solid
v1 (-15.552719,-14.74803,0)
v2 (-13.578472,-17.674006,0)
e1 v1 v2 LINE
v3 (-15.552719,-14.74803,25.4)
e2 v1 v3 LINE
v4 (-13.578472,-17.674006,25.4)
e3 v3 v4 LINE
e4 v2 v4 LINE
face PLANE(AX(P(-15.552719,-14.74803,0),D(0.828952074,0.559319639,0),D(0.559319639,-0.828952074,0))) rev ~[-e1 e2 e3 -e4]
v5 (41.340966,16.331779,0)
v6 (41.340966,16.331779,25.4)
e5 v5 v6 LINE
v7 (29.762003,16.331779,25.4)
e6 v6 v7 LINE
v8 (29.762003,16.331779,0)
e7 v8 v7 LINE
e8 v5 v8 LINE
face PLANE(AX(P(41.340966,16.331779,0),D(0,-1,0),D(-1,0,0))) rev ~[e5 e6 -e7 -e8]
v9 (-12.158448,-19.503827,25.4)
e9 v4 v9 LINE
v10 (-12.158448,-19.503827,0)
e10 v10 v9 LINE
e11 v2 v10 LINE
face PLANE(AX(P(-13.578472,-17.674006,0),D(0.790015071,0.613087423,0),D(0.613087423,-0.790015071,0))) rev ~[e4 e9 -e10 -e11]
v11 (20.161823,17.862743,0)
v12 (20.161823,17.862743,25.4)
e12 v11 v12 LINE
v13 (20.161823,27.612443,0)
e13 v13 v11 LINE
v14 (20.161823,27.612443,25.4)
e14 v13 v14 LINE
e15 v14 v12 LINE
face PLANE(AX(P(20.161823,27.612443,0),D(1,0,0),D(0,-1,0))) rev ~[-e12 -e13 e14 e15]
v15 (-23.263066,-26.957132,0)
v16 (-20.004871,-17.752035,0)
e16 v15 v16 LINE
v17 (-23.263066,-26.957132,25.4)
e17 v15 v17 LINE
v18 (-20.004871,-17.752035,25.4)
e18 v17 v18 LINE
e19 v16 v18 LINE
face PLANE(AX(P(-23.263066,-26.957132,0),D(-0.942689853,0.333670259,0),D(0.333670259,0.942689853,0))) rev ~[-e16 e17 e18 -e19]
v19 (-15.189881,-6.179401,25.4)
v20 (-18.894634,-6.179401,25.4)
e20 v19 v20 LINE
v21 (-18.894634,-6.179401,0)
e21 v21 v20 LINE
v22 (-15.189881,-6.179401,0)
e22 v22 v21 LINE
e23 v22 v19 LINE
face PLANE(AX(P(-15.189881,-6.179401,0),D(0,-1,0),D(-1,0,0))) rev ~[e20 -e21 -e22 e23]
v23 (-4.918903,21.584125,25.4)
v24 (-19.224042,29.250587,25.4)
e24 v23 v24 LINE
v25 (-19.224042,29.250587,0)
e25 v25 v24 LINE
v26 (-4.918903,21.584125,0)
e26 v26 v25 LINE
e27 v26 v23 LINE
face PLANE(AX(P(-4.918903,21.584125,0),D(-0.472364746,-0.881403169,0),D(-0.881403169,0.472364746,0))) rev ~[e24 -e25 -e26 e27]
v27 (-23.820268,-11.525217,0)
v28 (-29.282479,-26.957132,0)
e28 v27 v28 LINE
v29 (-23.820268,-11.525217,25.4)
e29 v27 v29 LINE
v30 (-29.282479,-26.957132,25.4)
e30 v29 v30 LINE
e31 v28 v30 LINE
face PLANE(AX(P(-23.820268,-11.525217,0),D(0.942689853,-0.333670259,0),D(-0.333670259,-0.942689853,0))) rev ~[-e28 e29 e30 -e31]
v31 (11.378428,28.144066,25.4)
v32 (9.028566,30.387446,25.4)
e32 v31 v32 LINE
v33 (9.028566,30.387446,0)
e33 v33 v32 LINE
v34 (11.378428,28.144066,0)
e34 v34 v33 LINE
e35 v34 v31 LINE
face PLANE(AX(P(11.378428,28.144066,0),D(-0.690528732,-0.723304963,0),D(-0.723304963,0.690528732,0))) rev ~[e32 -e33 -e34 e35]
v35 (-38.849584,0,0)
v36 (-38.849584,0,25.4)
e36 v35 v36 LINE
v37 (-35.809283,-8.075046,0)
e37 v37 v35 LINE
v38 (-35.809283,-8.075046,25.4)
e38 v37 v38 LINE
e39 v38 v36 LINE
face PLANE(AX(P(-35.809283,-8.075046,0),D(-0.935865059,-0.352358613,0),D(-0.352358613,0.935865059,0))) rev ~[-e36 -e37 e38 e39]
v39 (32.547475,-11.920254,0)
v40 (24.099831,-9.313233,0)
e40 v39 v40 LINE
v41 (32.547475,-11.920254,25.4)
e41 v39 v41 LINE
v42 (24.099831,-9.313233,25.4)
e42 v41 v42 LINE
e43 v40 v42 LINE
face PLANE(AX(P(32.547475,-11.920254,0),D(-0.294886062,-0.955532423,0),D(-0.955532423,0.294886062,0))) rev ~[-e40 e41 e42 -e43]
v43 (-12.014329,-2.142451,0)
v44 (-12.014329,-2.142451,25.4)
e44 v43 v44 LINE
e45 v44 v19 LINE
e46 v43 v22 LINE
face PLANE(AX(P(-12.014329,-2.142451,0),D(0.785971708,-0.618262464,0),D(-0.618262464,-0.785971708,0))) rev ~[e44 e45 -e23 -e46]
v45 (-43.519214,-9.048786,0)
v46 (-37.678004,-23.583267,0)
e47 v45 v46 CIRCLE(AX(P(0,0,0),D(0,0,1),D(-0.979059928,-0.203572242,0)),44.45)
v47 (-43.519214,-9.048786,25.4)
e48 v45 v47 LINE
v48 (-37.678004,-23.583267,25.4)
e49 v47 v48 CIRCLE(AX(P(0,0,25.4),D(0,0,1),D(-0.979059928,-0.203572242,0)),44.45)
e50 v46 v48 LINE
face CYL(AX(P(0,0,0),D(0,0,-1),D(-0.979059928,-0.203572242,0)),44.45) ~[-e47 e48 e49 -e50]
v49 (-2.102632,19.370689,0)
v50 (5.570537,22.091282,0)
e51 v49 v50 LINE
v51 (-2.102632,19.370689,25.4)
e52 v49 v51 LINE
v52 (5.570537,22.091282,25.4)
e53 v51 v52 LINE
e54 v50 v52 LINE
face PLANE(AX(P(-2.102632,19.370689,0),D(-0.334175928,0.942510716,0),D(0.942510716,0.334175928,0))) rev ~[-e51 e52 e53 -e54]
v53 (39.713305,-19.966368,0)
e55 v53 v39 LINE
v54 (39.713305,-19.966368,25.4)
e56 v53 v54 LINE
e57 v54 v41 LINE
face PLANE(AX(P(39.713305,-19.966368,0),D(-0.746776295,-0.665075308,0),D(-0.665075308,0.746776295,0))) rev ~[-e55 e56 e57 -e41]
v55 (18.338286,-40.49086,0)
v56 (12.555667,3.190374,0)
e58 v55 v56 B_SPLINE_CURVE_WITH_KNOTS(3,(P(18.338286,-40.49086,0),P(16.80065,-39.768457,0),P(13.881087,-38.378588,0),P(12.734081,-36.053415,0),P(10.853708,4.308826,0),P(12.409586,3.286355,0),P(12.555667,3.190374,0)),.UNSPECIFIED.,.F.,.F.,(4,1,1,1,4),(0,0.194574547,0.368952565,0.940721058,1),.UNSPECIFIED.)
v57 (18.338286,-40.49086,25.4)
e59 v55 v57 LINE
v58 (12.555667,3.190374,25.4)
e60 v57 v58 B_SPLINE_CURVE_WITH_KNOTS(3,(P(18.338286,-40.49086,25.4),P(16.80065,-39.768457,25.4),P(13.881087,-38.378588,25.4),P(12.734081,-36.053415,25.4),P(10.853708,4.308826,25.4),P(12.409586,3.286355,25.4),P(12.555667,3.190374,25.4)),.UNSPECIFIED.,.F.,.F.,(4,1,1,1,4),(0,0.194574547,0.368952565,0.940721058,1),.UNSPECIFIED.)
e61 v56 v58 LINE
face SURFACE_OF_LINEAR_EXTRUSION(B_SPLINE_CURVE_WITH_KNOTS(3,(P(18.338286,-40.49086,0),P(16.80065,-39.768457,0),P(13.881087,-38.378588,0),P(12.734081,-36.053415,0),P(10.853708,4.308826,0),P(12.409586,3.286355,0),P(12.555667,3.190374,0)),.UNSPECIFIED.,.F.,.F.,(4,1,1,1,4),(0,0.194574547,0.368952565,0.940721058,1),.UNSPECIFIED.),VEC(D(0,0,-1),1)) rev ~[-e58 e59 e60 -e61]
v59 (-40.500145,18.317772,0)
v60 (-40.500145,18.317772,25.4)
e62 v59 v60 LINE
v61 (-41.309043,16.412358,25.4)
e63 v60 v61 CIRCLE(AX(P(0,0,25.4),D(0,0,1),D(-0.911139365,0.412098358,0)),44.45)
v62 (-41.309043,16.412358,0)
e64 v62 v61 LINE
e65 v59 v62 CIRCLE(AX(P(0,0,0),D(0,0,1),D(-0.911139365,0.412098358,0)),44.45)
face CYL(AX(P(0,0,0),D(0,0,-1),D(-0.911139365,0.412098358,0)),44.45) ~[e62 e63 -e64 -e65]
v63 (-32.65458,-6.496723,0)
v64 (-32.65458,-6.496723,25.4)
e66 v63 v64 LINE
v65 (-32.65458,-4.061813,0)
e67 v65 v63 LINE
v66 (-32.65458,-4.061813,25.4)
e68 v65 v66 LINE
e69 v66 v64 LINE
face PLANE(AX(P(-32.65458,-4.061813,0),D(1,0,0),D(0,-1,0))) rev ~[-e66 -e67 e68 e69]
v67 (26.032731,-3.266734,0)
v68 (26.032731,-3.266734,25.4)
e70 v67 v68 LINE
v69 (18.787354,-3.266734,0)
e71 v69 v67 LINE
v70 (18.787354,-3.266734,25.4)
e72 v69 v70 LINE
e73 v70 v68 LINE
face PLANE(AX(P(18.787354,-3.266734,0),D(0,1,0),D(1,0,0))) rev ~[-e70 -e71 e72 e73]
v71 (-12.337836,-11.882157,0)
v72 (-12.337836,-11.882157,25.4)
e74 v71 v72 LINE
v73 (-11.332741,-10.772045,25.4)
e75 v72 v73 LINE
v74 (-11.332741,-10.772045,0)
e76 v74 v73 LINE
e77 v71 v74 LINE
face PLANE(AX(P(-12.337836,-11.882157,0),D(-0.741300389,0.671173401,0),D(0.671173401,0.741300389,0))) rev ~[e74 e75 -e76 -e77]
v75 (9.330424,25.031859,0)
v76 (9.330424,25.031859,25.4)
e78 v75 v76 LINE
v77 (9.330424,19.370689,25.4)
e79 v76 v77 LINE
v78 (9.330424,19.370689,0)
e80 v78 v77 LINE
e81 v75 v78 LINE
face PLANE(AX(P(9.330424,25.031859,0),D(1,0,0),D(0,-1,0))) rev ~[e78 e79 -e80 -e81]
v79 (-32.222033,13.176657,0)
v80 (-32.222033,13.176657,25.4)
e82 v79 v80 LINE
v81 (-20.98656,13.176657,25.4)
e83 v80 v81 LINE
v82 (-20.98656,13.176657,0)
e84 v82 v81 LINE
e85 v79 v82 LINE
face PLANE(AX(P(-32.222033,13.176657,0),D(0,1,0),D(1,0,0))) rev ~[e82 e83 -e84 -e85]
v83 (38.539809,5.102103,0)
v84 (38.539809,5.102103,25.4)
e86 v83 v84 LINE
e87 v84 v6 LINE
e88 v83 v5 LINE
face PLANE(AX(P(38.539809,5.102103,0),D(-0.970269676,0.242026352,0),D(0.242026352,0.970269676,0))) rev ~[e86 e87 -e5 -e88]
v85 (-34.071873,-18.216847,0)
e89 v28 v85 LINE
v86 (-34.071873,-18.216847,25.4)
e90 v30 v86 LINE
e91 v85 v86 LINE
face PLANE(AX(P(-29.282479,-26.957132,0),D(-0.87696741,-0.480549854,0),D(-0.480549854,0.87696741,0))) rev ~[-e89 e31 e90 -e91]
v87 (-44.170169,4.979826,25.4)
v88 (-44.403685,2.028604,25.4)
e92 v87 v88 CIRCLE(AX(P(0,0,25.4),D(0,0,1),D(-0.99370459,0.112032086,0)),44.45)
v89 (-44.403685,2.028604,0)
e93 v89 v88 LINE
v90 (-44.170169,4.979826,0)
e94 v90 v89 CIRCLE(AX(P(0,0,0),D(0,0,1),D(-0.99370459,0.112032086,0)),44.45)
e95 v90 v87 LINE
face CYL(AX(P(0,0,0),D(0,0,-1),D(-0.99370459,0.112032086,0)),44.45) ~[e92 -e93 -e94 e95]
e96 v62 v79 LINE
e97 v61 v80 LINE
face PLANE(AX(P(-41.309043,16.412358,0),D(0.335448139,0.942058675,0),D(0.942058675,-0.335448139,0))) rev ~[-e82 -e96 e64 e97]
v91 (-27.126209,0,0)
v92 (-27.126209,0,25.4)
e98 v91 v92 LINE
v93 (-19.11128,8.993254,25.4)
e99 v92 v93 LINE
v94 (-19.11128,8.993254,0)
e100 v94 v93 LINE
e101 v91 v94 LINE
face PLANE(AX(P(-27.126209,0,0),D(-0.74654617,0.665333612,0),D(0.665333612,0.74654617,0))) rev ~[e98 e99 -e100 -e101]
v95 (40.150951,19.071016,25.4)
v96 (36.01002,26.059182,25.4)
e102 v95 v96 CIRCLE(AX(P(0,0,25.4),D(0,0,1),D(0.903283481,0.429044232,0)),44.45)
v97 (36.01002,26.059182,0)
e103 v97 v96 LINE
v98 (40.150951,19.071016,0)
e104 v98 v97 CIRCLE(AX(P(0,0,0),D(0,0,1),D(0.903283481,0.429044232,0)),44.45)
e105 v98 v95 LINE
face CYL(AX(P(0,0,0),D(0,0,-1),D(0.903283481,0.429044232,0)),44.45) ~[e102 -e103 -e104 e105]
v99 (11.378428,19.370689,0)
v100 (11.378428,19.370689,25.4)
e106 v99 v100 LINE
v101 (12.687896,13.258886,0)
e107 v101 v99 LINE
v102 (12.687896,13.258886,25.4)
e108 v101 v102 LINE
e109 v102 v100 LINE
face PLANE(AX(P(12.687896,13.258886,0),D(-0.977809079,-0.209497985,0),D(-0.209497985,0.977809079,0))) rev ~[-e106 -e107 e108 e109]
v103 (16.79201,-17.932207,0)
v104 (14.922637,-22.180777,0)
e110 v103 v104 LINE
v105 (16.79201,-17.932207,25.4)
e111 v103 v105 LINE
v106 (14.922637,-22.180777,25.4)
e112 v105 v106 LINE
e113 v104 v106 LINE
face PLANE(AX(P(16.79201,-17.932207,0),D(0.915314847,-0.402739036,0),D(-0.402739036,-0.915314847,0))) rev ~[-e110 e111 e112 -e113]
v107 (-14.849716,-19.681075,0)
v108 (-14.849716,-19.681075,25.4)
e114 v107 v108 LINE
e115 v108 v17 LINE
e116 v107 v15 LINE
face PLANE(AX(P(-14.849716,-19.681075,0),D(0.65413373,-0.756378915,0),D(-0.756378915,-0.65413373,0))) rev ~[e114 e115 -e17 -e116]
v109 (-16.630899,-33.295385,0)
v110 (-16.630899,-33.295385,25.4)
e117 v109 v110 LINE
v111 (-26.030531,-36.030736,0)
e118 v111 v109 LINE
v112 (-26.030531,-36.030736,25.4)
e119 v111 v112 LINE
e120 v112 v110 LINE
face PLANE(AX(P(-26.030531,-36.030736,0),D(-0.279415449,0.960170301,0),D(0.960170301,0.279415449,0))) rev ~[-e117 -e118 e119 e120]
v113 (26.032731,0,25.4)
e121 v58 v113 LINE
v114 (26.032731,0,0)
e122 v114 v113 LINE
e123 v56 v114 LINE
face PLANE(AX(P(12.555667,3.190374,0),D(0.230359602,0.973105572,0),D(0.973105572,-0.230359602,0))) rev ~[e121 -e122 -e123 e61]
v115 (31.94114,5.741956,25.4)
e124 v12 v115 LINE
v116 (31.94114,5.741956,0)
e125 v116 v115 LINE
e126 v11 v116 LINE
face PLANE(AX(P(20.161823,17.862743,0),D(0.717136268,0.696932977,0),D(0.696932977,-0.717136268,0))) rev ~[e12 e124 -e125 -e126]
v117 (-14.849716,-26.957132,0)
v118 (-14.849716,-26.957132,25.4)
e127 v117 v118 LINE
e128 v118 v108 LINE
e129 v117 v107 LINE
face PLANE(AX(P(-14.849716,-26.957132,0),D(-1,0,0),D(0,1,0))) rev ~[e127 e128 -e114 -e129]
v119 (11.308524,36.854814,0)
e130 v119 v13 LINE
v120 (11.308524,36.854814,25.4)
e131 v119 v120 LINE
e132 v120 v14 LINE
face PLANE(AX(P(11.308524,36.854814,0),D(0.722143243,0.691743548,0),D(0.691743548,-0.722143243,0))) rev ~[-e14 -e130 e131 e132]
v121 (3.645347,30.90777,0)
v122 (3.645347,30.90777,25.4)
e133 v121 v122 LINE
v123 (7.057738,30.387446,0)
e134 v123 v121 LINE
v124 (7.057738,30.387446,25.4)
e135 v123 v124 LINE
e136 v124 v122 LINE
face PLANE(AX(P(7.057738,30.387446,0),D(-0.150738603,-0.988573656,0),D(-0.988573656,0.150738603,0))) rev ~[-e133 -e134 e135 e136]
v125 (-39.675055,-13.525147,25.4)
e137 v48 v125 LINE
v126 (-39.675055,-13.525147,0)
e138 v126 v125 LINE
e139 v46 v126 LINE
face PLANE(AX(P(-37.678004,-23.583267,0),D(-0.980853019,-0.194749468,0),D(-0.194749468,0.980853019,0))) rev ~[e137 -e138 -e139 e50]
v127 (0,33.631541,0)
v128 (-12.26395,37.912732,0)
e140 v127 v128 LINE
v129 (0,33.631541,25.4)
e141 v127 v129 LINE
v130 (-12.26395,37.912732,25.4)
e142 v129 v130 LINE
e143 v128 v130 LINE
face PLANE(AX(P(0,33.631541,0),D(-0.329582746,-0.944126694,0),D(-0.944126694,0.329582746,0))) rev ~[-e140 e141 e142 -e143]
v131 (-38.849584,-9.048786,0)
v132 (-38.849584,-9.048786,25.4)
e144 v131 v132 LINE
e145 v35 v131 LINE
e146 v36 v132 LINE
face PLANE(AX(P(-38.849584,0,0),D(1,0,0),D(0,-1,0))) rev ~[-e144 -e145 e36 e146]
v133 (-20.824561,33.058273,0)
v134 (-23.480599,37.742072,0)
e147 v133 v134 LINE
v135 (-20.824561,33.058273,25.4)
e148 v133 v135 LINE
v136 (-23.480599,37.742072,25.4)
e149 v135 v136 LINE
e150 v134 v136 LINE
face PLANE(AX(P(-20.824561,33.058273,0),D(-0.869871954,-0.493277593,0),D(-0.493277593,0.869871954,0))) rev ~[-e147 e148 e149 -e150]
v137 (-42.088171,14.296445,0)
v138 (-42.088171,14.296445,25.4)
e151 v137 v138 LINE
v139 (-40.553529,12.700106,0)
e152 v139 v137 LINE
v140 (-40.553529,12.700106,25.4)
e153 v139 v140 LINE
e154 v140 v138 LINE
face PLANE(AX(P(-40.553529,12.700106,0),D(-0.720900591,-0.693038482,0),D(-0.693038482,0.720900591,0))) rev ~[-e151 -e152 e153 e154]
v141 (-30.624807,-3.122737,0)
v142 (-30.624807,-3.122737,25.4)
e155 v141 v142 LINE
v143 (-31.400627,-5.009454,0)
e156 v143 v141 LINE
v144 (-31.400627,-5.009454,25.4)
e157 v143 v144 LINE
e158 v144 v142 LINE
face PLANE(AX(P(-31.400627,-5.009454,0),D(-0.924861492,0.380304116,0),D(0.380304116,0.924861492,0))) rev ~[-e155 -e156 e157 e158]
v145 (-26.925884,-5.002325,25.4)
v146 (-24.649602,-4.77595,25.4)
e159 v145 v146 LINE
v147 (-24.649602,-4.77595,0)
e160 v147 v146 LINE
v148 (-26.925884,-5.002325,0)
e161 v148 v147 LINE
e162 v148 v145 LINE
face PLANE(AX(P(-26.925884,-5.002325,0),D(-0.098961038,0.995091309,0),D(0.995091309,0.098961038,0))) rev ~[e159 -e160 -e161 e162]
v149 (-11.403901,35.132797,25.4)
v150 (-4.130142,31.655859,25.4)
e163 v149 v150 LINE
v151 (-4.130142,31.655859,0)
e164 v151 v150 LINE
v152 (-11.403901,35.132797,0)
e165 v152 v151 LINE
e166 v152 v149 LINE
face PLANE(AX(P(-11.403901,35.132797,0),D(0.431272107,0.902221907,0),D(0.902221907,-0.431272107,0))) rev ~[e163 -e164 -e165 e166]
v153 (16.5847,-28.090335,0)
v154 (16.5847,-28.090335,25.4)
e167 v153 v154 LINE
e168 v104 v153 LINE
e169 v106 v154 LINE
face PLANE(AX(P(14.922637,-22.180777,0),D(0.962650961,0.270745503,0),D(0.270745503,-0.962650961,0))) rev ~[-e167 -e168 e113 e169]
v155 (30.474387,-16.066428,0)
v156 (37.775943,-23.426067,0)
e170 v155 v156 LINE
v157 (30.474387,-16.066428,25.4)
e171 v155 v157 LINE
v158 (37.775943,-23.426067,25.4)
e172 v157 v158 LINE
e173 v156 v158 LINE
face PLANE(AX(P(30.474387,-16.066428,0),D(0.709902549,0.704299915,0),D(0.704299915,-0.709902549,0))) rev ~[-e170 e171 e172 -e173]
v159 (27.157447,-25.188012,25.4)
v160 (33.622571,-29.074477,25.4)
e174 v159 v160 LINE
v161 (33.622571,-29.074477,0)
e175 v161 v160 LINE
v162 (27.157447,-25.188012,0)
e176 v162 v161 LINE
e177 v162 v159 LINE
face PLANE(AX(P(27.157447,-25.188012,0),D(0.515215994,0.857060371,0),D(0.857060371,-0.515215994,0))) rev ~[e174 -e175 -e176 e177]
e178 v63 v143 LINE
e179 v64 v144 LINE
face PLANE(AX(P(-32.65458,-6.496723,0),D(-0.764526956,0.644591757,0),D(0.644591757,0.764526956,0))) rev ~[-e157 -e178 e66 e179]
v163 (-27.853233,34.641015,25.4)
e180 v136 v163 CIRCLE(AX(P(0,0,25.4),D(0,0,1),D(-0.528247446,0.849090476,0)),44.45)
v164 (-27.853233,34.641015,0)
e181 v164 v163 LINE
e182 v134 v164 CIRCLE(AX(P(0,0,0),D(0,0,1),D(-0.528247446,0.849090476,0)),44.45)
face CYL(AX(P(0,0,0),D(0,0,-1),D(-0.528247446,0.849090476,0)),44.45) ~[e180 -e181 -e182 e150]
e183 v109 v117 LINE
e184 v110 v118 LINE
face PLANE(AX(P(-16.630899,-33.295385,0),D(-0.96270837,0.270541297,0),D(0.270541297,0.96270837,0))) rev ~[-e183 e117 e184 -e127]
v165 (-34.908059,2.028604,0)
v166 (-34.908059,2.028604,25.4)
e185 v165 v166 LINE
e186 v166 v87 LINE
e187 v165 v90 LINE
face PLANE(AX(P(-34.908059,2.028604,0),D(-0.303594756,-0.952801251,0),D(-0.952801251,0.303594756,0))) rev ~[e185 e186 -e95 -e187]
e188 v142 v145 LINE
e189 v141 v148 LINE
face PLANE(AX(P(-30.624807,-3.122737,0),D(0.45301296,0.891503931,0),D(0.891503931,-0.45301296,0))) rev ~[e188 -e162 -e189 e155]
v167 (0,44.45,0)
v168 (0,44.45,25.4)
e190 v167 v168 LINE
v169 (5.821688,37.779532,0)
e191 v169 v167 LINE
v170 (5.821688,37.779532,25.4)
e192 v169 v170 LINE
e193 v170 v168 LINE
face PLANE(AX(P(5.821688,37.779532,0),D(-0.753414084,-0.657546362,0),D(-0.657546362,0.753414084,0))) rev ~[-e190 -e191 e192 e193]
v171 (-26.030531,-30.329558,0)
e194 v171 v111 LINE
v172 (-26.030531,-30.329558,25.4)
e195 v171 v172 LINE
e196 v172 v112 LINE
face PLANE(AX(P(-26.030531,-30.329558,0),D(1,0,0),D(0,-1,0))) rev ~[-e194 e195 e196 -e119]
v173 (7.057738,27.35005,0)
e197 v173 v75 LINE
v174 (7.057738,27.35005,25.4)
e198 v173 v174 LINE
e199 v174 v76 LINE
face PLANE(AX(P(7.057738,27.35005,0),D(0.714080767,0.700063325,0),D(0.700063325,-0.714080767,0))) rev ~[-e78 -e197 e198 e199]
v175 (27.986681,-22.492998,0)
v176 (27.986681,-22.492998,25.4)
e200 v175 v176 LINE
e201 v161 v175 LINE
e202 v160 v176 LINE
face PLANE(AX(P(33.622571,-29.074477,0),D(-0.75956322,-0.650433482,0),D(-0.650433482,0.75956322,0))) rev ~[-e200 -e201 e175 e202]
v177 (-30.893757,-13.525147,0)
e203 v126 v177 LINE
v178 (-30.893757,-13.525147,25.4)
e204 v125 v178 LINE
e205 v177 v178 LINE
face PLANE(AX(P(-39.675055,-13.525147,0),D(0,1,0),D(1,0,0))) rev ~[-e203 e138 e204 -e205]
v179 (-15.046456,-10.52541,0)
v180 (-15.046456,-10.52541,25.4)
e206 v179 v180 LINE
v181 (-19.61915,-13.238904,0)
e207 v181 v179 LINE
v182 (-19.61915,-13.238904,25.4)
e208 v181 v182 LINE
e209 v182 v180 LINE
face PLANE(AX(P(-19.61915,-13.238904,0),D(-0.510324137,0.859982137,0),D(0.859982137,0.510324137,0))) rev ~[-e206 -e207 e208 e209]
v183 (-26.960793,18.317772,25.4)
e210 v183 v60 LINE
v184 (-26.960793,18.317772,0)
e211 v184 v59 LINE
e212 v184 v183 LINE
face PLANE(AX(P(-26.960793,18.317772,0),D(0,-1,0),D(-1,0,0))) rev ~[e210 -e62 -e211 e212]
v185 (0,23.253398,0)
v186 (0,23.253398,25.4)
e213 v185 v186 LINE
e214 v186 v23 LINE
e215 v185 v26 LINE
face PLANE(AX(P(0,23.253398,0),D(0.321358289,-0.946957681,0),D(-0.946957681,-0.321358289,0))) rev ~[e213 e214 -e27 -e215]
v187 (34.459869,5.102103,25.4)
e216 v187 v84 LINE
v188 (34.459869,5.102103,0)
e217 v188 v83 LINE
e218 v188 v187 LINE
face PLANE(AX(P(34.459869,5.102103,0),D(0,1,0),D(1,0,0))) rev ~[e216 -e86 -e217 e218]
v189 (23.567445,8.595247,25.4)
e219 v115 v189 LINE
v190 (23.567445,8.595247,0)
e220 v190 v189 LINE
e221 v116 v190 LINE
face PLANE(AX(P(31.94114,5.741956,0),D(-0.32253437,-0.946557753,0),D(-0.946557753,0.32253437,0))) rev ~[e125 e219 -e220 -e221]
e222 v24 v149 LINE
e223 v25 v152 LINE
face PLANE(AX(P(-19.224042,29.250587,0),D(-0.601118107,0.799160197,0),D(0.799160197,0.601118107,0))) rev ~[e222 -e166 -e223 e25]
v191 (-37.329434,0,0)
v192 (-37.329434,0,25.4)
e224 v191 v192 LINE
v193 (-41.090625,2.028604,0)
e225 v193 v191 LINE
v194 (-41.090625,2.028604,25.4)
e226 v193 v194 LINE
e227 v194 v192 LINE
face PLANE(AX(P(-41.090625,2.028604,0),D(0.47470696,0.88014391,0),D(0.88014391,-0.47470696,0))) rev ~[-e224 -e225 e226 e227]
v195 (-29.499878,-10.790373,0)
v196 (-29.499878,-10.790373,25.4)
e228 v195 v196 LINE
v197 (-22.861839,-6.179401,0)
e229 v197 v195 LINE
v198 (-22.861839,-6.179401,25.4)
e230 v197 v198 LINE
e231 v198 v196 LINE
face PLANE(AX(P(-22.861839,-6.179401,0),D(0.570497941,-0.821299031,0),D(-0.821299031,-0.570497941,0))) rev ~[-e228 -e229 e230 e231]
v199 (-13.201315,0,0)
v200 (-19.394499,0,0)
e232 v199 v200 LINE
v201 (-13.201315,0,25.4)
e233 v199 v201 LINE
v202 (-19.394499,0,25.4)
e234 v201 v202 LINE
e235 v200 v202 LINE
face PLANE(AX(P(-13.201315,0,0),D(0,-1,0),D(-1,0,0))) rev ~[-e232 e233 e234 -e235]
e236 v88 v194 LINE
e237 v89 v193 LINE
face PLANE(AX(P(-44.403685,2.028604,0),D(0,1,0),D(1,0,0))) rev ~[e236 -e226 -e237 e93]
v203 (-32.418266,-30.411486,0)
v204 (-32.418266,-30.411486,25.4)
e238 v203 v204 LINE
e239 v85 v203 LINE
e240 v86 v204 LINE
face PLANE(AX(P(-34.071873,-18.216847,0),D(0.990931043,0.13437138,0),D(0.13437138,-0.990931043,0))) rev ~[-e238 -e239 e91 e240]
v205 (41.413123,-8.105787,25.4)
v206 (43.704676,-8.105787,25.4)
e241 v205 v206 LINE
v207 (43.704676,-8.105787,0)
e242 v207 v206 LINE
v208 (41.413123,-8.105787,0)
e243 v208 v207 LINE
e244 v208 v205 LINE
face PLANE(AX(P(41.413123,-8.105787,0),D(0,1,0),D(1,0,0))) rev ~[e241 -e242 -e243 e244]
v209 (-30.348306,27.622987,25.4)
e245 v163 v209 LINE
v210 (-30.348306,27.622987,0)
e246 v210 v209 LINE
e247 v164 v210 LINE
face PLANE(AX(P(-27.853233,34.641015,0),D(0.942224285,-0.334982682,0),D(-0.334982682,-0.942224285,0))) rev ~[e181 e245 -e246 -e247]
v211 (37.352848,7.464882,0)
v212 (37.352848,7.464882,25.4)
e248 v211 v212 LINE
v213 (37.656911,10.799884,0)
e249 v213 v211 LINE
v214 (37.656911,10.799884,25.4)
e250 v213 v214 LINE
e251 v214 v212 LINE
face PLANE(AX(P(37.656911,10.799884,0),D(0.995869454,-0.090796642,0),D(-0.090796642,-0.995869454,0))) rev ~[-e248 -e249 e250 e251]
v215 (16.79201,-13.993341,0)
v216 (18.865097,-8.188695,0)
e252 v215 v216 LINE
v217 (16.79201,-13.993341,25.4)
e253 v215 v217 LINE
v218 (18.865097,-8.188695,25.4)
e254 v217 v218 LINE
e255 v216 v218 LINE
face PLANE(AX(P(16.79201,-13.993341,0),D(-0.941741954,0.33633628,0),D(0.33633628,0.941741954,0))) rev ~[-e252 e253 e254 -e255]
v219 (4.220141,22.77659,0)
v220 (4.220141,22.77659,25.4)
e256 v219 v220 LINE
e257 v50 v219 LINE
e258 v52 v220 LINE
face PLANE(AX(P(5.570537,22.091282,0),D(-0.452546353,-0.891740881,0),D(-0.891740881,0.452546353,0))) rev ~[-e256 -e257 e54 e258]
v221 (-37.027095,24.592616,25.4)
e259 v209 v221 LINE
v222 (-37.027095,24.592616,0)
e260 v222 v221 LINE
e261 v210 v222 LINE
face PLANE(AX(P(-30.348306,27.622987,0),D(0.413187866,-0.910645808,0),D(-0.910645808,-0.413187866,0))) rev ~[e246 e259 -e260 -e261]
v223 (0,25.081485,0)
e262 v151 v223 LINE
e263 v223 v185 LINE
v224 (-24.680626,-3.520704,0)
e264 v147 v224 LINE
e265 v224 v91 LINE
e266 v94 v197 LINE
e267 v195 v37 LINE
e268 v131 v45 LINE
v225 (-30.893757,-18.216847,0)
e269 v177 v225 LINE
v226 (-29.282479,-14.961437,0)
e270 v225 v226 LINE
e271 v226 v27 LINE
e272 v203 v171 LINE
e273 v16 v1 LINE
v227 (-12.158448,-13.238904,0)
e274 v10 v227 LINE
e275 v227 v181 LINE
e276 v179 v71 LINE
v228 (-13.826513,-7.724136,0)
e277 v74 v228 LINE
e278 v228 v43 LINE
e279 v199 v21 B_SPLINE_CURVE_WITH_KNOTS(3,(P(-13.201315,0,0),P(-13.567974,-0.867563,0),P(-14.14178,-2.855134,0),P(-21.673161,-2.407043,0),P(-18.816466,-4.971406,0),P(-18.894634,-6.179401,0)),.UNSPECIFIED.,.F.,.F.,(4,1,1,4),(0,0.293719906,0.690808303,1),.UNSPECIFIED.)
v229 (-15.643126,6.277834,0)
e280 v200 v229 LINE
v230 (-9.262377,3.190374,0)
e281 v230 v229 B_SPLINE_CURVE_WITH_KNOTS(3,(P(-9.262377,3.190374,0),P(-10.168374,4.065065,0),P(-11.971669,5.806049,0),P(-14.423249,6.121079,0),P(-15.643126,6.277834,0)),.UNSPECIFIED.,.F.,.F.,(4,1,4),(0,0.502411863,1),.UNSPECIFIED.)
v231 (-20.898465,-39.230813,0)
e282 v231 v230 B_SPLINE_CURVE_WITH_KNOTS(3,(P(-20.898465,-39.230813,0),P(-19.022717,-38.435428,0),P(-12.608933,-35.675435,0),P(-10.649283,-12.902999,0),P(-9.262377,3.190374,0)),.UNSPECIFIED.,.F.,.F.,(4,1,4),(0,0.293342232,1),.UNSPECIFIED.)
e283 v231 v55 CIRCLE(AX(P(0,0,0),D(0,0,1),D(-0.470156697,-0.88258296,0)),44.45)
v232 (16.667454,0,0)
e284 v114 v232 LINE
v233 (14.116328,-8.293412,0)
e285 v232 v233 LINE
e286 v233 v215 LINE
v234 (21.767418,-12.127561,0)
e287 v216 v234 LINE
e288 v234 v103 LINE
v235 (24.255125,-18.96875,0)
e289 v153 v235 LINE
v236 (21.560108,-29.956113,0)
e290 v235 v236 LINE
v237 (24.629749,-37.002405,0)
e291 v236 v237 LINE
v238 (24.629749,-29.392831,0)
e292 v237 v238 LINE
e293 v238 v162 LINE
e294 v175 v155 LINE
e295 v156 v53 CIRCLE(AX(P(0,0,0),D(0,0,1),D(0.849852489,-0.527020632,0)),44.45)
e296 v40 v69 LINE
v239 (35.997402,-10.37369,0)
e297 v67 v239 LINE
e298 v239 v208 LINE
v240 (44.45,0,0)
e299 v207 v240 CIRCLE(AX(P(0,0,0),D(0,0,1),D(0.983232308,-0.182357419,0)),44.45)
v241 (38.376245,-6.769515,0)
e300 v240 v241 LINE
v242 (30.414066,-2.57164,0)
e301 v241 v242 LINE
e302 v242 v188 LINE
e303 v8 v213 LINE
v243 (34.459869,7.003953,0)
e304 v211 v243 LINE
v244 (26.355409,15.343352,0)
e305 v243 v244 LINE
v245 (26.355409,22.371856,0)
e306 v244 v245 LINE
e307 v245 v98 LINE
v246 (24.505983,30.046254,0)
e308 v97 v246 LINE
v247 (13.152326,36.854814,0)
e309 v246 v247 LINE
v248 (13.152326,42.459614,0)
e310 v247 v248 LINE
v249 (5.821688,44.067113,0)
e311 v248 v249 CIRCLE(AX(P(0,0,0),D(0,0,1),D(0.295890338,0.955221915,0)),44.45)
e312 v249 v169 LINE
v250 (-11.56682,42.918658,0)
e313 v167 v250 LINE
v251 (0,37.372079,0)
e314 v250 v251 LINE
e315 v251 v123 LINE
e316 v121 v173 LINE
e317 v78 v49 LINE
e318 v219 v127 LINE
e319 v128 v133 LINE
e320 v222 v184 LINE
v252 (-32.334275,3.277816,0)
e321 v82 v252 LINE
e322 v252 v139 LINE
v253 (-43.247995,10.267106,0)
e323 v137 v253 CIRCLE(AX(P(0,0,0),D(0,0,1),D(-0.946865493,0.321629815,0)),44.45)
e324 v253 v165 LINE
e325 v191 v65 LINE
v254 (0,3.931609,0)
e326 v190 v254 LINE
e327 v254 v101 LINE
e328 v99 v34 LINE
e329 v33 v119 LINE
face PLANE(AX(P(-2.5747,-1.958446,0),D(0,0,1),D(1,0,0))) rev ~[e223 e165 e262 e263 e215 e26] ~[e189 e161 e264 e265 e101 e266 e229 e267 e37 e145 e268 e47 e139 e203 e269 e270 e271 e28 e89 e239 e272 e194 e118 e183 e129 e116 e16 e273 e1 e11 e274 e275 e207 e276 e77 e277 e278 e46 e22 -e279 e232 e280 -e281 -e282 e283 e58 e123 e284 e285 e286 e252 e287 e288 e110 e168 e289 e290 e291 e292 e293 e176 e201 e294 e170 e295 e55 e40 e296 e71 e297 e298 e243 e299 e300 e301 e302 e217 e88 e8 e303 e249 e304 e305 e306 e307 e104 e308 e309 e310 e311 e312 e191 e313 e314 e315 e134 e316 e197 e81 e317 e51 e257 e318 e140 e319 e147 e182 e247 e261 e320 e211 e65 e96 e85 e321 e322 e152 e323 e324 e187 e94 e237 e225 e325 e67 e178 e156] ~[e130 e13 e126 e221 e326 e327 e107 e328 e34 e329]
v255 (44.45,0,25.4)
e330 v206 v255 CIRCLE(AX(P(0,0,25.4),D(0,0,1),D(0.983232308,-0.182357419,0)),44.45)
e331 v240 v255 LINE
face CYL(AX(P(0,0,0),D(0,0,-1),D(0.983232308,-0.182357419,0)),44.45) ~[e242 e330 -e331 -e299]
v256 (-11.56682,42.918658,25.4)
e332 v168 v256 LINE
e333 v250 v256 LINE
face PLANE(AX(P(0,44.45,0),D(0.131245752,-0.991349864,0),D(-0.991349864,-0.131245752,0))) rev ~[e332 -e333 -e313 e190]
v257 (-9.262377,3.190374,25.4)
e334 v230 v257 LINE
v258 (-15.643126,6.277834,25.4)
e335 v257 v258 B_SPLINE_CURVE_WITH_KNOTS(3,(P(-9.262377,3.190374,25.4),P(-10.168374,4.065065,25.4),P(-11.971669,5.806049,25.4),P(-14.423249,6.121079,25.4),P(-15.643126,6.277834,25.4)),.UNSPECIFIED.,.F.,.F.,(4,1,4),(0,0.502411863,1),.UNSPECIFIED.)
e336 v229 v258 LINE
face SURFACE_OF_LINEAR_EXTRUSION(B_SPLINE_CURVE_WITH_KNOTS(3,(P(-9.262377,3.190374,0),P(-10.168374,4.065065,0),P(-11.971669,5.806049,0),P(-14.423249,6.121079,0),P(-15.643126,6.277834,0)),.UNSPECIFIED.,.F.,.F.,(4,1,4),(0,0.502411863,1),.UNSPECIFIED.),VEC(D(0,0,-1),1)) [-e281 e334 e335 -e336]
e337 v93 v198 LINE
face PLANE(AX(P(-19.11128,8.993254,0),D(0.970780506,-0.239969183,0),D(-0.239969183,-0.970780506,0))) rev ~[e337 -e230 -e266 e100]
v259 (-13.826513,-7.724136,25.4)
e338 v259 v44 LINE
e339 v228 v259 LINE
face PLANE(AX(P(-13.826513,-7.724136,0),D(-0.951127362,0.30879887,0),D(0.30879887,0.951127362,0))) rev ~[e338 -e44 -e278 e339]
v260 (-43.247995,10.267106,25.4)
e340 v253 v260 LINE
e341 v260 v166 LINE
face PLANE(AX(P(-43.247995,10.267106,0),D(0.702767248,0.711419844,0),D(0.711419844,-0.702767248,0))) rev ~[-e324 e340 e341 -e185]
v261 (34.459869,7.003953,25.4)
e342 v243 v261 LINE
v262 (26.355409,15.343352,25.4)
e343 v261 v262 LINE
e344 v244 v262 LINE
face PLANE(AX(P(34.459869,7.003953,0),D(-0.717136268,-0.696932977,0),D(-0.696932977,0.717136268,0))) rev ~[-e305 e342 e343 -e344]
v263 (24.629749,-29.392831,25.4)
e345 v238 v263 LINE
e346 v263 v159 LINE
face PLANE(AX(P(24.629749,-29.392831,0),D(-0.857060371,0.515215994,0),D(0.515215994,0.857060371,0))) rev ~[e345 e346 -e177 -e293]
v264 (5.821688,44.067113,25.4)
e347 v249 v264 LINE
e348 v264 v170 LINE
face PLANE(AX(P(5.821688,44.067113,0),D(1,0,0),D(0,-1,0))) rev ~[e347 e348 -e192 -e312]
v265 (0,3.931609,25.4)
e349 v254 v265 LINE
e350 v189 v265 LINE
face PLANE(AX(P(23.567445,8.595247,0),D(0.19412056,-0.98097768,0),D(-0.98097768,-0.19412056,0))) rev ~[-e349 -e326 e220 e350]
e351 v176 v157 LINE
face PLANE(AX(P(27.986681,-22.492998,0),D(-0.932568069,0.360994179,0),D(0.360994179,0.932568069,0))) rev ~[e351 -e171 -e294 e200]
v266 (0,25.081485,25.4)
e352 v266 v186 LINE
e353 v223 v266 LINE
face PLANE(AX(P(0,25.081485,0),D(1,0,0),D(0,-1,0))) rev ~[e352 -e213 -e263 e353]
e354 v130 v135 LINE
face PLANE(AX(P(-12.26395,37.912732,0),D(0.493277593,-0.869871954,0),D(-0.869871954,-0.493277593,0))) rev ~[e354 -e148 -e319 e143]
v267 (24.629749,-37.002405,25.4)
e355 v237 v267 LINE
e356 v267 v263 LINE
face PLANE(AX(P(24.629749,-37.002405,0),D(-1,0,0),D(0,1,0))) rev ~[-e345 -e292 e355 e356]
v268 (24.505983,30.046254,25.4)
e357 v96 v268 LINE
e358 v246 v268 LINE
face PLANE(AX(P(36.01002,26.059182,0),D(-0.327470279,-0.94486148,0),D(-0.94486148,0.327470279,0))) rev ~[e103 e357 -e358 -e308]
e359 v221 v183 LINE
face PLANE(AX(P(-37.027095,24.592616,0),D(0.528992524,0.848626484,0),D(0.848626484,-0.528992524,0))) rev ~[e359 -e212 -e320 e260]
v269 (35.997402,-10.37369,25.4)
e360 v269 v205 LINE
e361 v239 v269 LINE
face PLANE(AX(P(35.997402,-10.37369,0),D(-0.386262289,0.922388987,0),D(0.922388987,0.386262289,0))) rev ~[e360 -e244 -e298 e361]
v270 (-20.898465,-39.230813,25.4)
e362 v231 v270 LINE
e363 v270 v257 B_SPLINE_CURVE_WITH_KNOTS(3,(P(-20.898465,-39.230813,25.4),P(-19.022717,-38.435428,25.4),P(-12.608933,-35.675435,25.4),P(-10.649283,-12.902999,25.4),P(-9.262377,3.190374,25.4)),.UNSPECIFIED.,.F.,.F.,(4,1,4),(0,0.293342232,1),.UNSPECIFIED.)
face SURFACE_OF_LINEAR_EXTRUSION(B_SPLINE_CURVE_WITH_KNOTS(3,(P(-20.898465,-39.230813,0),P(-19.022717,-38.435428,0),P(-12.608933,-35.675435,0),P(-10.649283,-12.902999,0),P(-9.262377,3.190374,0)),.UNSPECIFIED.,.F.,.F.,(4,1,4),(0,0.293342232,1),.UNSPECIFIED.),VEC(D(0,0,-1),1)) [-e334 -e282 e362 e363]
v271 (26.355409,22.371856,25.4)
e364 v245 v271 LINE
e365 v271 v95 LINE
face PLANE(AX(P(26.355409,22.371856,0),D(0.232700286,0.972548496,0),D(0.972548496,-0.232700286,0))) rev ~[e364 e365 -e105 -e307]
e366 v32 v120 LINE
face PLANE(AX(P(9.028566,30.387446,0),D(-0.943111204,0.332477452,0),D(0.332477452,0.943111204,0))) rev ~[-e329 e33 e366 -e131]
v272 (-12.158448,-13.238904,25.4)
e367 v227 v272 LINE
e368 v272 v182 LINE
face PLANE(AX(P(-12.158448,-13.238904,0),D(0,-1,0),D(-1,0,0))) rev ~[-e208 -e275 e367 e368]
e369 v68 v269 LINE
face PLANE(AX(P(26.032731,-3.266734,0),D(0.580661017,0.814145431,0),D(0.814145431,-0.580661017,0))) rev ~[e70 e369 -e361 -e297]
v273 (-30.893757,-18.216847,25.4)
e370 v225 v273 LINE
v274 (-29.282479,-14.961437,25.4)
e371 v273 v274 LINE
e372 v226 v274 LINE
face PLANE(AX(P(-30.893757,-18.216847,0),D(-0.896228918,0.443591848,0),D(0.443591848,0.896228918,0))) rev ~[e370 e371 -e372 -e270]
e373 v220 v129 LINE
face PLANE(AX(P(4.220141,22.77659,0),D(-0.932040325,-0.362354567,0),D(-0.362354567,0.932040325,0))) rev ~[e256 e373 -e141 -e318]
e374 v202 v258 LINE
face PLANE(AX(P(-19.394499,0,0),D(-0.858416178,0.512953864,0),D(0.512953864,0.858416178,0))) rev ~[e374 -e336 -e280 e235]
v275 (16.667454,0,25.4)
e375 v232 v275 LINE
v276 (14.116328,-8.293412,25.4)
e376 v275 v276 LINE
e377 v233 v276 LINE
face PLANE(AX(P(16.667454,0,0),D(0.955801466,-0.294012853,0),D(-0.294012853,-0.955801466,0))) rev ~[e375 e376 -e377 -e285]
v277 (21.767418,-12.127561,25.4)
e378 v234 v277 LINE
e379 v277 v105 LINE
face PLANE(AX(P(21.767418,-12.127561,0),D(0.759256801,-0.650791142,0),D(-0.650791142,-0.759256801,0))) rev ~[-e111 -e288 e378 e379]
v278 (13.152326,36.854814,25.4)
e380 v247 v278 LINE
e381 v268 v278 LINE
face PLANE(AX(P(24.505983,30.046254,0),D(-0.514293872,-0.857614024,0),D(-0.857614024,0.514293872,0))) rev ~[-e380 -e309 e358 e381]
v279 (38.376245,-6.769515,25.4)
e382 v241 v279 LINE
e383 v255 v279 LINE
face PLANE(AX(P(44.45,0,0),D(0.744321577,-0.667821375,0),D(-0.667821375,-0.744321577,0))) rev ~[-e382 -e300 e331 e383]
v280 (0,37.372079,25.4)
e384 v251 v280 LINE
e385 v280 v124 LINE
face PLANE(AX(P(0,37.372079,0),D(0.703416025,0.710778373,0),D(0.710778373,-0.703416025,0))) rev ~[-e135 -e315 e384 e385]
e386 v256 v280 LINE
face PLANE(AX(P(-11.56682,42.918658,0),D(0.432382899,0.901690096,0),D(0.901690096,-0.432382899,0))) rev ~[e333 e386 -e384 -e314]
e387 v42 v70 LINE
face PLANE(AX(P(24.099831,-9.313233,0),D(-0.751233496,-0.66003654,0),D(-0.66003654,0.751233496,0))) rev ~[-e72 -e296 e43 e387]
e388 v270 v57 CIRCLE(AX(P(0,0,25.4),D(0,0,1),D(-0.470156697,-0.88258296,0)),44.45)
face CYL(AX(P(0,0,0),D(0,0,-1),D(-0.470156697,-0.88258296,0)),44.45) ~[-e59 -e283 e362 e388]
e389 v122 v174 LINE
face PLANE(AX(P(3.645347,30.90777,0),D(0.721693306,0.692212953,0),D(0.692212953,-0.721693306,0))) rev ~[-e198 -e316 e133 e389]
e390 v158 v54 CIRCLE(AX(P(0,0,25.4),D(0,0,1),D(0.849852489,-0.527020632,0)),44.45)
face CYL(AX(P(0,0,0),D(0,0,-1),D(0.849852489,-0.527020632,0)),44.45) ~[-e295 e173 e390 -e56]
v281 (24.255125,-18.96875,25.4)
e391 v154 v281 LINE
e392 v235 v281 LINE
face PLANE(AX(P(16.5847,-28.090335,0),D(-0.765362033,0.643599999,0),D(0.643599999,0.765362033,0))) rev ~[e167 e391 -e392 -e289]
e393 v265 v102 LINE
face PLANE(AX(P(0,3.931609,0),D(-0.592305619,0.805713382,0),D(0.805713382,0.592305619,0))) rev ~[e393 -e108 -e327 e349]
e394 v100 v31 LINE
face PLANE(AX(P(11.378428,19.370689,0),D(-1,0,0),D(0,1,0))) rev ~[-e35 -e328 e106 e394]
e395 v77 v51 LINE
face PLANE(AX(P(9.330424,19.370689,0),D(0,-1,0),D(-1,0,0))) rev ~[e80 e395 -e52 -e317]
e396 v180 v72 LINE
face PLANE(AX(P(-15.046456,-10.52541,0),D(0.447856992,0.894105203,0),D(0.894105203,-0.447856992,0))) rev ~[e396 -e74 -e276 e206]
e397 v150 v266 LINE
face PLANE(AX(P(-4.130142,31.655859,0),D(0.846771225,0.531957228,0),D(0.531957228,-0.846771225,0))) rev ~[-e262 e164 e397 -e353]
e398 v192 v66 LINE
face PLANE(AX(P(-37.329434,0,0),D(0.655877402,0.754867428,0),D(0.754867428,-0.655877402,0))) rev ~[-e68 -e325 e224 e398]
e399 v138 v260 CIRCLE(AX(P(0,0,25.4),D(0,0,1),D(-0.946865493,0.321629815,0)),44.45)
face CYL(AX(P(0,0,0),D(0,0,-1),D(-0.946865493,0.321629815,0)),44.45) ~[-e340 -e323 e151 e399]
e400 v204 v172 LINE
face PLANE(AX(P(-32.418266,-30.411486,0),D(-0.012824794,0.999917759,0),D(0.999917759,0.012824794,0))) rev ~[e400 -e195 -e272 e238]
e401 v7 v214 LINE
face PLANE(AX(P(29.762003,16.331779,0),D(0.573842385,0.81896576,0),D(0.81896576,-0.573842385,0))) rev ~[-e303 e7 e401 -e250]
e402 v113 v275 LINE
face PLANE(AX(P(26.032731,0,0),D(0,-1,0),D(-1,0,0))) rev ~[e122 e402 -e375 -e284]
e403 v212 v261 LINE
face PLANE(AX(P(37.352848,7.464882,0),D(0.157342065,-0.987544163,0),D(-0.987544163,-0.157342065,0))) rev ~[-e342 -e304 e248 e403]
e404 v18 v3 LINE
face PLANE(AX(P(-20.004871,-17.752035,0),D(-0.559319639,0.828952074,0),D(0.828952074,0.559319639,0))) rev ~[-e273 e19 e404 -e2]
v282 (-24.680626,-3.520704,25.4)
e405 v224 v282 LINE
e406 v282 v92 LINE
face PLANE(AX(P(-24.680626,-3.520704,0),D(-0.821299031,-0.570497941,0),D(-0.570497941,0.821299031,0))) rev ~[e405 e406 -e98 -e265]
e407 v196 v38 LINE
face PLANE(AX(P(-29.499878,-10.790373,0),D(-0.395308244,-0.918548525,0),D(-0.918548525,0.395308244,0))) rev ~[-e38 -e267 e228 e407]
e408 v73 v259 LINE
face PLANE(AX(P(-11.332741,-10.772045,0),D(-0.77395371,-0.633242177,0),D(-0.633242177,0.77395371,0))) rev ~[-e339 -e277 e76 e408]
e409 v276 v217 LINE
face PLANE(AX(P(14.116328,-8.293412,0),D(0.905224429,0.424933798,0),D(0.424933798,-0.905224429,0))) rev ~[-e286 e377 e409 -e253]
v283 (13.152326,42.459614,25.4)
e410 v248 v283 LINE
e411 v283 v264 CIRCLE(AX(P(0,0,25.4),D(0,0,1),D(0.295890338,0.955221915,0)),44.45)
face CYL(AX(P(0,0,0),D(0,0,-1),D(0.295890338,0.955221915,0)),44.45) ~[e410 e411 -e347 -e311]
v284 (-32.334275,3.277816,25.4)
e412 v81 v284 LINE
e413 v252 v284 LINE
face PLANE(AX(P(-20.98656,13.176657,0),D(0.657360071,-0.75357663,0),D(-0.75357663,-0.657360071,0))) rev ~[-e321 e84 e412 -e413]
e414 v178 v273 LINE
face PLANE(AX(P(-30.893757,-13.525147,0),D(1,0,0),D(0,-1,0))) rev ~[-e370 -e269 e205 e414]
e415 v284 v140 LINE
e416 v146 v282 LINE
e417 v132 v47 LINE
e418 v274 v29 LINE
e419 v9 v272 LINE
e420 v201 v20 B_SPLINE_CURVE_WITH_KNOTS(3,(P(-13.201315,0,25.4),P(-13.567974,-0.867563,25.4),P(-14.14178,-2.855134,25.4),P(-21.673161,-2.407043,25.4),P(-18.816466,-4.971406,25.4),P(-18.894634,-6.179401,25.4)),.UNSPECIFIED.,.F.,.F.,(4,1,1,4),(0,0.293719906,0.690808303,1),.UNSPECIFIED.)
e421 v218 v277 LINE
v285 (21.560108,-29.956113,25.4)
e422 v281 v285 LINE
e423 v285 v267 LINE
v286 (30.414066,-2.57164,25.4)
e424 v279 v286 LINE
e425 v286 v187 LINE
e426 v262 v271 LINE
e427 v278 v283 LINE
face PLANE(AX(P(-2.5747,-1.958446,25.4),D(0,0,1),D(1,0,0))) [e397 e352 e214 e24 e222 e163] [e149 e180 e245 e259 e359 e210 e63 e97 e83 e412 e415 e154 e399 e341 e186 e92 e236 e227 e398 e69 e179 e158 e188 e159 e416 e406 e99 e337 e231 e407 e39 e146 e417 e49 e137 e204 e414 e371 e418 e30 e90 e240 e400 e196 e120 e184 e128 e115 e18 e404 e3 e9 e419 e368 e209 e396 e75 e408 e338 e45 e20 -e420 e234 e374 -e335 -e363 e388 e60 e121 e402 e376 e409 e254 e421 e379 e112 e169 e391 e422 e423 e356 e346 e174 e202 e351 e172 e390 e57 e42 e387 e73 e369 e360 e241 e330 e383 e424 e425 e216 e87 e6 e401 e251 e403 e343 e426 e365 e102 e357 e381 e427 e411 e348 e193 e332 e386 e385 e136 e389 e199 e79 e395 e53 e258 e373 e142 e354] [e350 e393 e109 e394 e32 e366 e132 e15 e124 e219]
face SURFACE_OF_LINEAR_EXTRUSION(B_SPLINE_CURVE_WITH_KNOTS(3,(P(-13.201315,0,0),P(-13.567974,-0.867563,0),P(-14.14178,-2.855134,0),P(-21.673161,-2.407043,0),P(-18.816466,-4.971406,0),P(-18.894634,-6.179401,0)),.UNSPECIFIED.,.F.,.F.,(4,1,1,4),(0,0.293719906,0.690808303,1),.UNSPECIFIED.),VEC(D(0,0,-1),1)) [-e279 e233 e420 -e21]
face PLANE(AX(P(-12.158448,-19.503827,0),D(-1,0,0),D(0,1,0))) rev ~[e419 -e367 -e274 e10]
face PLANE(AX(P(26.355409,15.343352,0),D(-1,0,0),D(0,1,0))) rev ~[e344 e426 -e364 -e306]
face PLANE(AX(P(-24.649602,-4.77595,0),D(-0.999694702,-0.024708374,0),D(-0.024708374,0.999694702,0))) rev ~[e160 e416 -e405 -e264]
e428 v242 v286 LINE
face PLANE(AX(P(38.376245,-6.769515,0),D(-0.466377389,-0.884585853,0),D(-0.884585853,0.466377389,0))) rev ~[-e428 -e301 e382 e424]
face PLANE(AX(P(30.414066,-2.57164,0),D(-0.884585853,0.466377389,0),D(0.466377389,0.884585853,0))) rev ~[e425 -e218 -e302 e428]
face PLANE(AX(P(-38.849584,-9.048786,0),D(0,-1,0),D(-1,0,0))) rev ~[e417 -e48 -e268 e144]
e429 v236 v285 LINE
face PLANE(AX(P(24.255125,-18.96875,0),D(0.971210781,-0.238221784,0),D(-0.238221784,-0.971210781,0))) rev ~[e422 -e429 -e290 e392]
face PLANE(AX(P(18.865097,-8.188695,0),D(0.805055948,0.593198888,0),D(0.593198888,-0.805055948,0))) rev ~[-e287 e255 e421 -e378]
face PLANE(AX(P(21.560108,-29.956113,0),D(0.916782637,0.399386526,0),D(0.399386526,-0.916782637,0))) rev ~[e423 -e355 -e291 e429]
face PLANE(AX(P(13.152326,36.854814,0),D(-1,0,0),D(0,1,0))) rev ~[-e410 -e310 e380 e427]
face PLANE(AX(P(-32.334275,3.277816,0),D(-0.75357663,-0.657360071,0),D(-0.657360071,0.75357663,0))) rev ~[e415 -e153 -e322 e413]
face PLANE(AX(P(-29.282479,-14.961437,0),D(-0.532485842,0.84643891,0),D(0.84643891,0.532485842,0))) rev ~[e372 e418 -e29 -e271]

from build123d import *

# Parameters (mm, degrees)
F1_DEPTH = 25.4


with BuildPart() as f1:
    # F0 (on Top) → F1 (new body)
    with BuildSketch(Plane.XY):
        with BuildLine():
            ThreePointArc((43.704676099, -8.1057872589), (44.2632768364, -4.0699906266), (44.45, 0))
            Line((44.45, 0), (38.3762454863, -6.7695145848))
            Line((38.3762454863, -6.7695145848), (30.4140662095, -2.5716401001))
            Line((30.4140662095, -2.5716401001), (34.4598693357, 5.1021028682))
            Line((34.4598693357, 5.1021028682), (38.5398091507, 5.1021028682))
            Line((38.5398091507, 5.1021028682), (41.340966117, 16.3317794656))
            Line((41.340966117, 16.3317794656), (29.7620025051, 16.3317794656))
            Line((29.7620025051, 16.3317794656), (37.6569107253, 10.7998840139))
            Line((37.6569107253, 10.7998840139), (37.3528477732, 7.4648817648))
            Line((37.3528477732, 7.4648817648), (34.4598693357, 7.0039533134))
            Line((34.4598693357, 7.0039533134), (26.3554092655, 15.3433524242))
            Line((26.3554092655, 15.3433524242), (26.3554092655, 22.3718555596))
            Line((26.3554092655, 22.3718555596), (40.1509507291, 19.0710161121))
            ThreePointArc((40.1509507291, 19.0710161121), (38.2404494141, 22.6598880979), (36.0100197183, 26.0591822567))
            Line((36.0100197183, 26.0591822567), (24.5059830732, 30.046253556))
            Line((24.5059830732, 30.046253556), (13.1523255345, 36.8548135049))
            Line((13.1523255345, 36.8548135049), (13.1523255345, 42.4596141414))
            ThreePointArc((13.1523255345, 42.4596141414), (9.520993243, 43.418350817), (5.8216881898, 44.0671129826))
            Line((5.8216881898, 44.0671129826), (5.8216881898, 37.7795321464))
            Line((5.8216881898, 37.7795321464), (0, 44.45))
            Line((0, 44.45), (-11.5668197775, 42.9186577171))
            Line((-11.5668197775, 42.9186577171), (0, 37.3720790271))
            Line((0, 37.3720790271), (7.0577384585, 30.3874456776))
            Line((7.0577384585, 30.3874456776), (3.6453471464, 30.9077701819))
            Line((3.6453471464, 30.9077701819), (7.0577384585, 27.3500500395))
            Line((7.0577384585, 27.3500500395), (9.3304236081, 25.0318586734))
            Line((9.3304236081, 25.0318586734), (9.3304236081, 19.3706885501))
            Line((9.3304236081, 19.3706885501), (-2.1026324375, 19.3706885501))
            Line((-2.1026324375, 19.3706885501), (5.5705367236, 22.0912819416))
            Line((5.5705367236, 22.0912819416), (4.2201406021, 22.7765895828))
            Line((4.2201406021, 22.7765895828), (0, 33.6315410045))
            Line((0, 33.6315410045), (-12.2639499105, 37.9127315635))
            Line((-12.2639499105, 37.9127315635), (-20.8245608606, 33.0582727561))
            Line((-20.8245608606, 33.0582727561), (-23.4805989564, 37.7420716528))
            ThreePointArc((-23.4805989564, 37.7420716528), (-25.7137068729, 36.2575203076), (-27.853233261, 34.6410146634))
            Line((-27.853233261, 34.6410146634), (-30.3483057479, 27.6229865325))
            Line((-30.3483057479, 27.6229865325), (-37.0270949757, 24.5926155108))
            Line((-37.0270949757, 24.5926155108), (-26.9607932241, 18.317772023))
            Line((-26.9607932241, 18.317772023), (-40.5001447913, 18.317772023))
            ThreePointArc((-40.5001447913, 18.317772023), (-40.9156869326, 17.3697744036), (-41.3090426286, 16.4123580605))
            Line((-41.3090426286, 16.4123580605), (-32.2220331053, 13.1766568099))
            Line((-32.2220331053, 13.1766568099), (-20.9865597638, 13.1766568099))
            Line((-20.9865597638, 13.1766568099), (-32.3342754558, 3.2778158817))
            Line((-32.3342754558, 3.2778158817), (-40.5535289611, 12.7001060929))
            Line((-40.5535289611, 12.7001060929), (-42.0881711734, 14.2964452671))
            ThreePointArc((-42.0881711734, 14.2964452671), (-42.7156199987, 12.2954588416), (-43.247994613, 10.2671058217))
            Line((-43.247994613, 10.2671058217), (-34.9080591648, 2.0286042741))
            Line((-34.9080591648, 2.0286042741), (-44.1701690125, 4.9798262425))
            ThreePointArc((-44.1701690125, 4.9798262425), (-44.311503506, 3.5061598702), (-44.4036852603, 2.0286042741))
            Line((-44.4036852603, 2.0286042741), (-41.0906250328, 2.0286042741))
            Line((-41.0906250328, 2.0286042741), (-37.3294337081, 0))
            Line((-37.3294337081, 0), (-32.6545804034, -4.0618134039))
            Line((-32.6545804034, -4.0618134039), (-32.6545804034, -6.4967229435))
            Line((-32.6545804034, -6.4967229435), (-31.4006268427, -5.0094540041))
            Line((-31.4006268427, -5.0094540041), (-30.6248067702, -3.1227373514))
            Line((-30.6248067702, -3.1227373514), (-26.9258844929, -5.0023249455))
            Line((-26.9258844929, -5.0023249455), (-24.6496018838, -4.7759504527))
            Line((-24.6496018838, -4.7759504527), (-24.680626463, -3.5207036625))
            Line((-24.680626463, -3.5207036625), (-27.1262085414, 0))
            Line((-27.1262085414, 0), (-19.111280333, 8.9932536787))
            Line((-19.111280333, 8.9932536787), (-22.8618391946, -6.1794005338))
            Line((-22.8618391946, -6.1794005338), (-29.4998778801, -10.790373226))
            Line((-29.4998778801, -10.790373226), (-35.8092829268, -8.075045983))
            Line((-35.8092829268, -8.075045983), (-38.8495844895, 0))
            Line((-38.8495844895, 0), (-38.8495844895, -9.0487861421))
            Line((-38.8495844895, -9.0487861421), (-43.5192137952, -9.0487861421))
            ThreePointArc((-43.5192137952, -9.0487861421), (-41.2439066607, -16.5753631444), (-37.6780041311, -23.5832674729))
            Line((-37.6780041311, -23.5832674729), (-39.6750552833, -13.5251467775))
            Line((-39.6750552833, -13.5251467775), (-30.8937566892, -13.5251467775))
            Line((-30.8937566892, -13.5251467775), (-30.8937566892, -18.2168473015))
            Line((-30.8937566892, -18.2168473015), (-29.2824792269, -14.9614370338))
            Line((-29.2824792269, -14.9614370338), (-23.8202681725, -11.5252173406))
            Line((-23.8202681725, -11.5252173406), (-29.2824792269, -26.9571319202))
            Line((-29.2824792269, -26.9571319202), (-34.0718732776, -18.2168473015))
            Line((-34.0718732776, -18.2168473015), (-32.4182662921, -30.4114864914))
            Line((-32.4182662921, -30.4114864914), (-26.0305313037, -30.3295583668))
            Line((-26.0305313037, -30.3295583668), (-26.0305313037, -36.0307360464))
            Line((-26.0305313037, -36.0307360464), (-16.6308986723, -33.2953852711))
            Line((-16.6308986723, -33.2953852711), (-14.8497161906, -26.9571319202))
            Line((-14.8497161906, -26.9571319202), (-14.8497161906, -19.681075499))
            Line((-14.8497161906, -19.681075499), (-23.2630656429, -26.9571319202))
            Line((-23.2630656429, -26.9571319202), (-20.0048710871, -17.7520353818))
            Line((-20.0048710871, -17.7520353818), (-15.5527187897, -14.7480303308))
            Line((-15.5527187897, -14.7480303308), (-13.5784722435, -17.6740062021))
            Line((-13.5784722435, -17.6740062021), (-12.1584481763, -19.5038274832))
            Line((-12.1584481763, -19.5038274832), (-12.1584481763, -13.2389037838))
            Line((-12.1584481763, -13.2389037838), (-19.6191504902, -13.2389037838))
            Line((-19.6191504902, -13.2389037838), (-15.0464561653, -10.5254098808))
            Line((-15.0464561653, -10.5254098808), (-12.3378359363, -11.8821568323))
            Line((-12.3378359363, -11.8821568323), (-11.3327408226, -10.7720452013))
            Line((-11.3327408226, -10.7720452013), (-13.8265134831, -7.7241360835))
            Line((-13.8265134831, -7.7241360835), (-12.014329364, -2.1424514692))
            Line((-12.014329364, -2.1424514692), (-15.1898814267, -6.1794005338))
            Line((-15.1898814267, -6.1794005338), (-18.8946343708, -6.1794005338))
            add(Edge.make_bspline(
                [(-13.2013149351, 0), (-13.5679742386, -0.867562918), (-14.1417802712, -2.8551336689), (-21.6731611335, -2.4070426946), (-18.8164656554, -4.9714057174), (-18.8946343708, -6.1794005338)],
                knots=[0, 0, 0, 0, 0.2937199062, 0.6908083029, 1, 1, 1, 1], degree=3))
            Line((-13.2013149351, 0), (-19.394499122, 0))
            Line((-19.394499122, 0), (-15.643126382, 6.2778336934))
            add(Edge.make_bspline(
                [(-9.2623769855, 3.1903743622), (-10.1683737145, 4.0650652939), (-11.9716685733, 5.8060491295), (-14.4232490293, 6.1210787108), (-15.643126382, 6.2778336934)],
                knots=[0, 0, 0, 0, 0.5024118627, 1, 1, 1, 1], degree=3))
            add(Edge.make_bspline(
                [(-20.8984651632, -39.2308125563), (-19.0227174729, -38.4354283736), (-12.6089325614, -35.6754345167), (-10.6492832076, -12.9029994524), (-9.2623769855, 3.1903743622)],
                knots=[0, 0, 0, 0, 0.2933422321, 1, 1, 1, 1], degree=3))
            ThreePointArc((-20.8984651632, -39.2308125563), (-1.4267302198, -44.4270969216), (18.3382861829, -40.4908602017))
            add(Edge.make_bspline(
                [(18.3382861829, -40.4908602017), (16.800650041, -39.7684573781), (13.8810869179, -38.3785879352), (12.7340809413, -36.0534150056), (10.8537079929, 4.3088263933), (12.4095863322, 3.2863546111), (12.5556673868, 3.1903743622)],
                knots=[0, 0, 0, 0, 0.1945745472, 0.3689525646, 0.9407210575, 1, 1, 1, 1], degree=3))
            Line((12.5556673868, 3.1903743622), (26.0327312476, 0))
            Line((26.0327312476, 0), (16.6674540937, 0))
            Line((16.6674540937, 0), (14.1163282306, -8.2934123817))
            Line((14.1163282306, -8.2934123817), (16.7920096617, -13.9933407127))
            Line((16.7920096617, -13.9933407127), (18.8650966271, -8.1886949246))
            Line((18.8650966271, -8.1886949246), (21.7674178411, -12.1275609654))
            Line((21.7674178411, -12.1275609654), (16.7920096617, -17.9322074255))
            Line((16.7920096617, -17.9322074255), (14.9226369154, -22.1807765402))
            Line((14.9226369154, -22.1807765402), (16.5846997555, -28.0903350345))
            Line((16.5846997555, -28.0903350345), (24.2551246189, -18.9687502362))
            Line((24.2551246189, -18.9687502362), (21.5601079349, -29.9561134378))
            Line((21.5601079349, -29.9561134378), (24.6297491832, -37.0024047215))
            Line((24.6297491832, -37.0024047215), (24.6297491832, -29.3928310512))
            Line((24.6297491832, -29.3928310512), (27.1574471769, -25.1880124765))
            Line((27.1574471769, -25.1880124765), (33.6225707529, -29.074477398))
            Line((33.6225707529, -29.074477398), (27.9866814255, -22.4929984806))
            Line((27.9866814255, -22.4929984806), (30.4743868592, -16.0664276781))
            Line((30.4743868592, -16.0664276781), (37.7759431419, -23.4260670993))
            ThreePointArc((37.7759431419, -23.4260670993), (38.783221777, -21.7178315814), (39.7133054721, -19.9663684349))
            Line((39.7133054721, -19.9663684349), (32.5474751687, -11.9202537473))
            Line((32.5474751687, -11.9202537473), (24.099831034, -9.3132333563))
            Line((24.099831034, -9.3132333563), (18.7873544042, -3.2667341875))
            Line((18.7873544042, -3.2667341875), (26.0327312476, -3.2667341875))
            Line((26.0327312476, -3.2667341875), (35.9974019018, -10.3736902339))
            Line((35.9974019018, -10.3736902339), (41.4131227431, -8.1057872589))
            Line((41.4131227431, -8.1057872589), (43.704676099, -8.1057872589))
        make_face()
        Polygon((-4.9189029301, 21.5841254968), (-19.2240415026, 29.2505866358), (-11.4039010319, 35.1327965548), (-4.1301422855, 31.6558589691), (0, 25.0814852009), (0, 23.2533977972), align=None, mode=Mode.SUBTRACT)
        Polygon((12.6878964172, 13.258886178), (11.3784278194, 19.3706885501), (11.3784278194, 28.1440664159), (9.0285656372, 30.3874456776), (11.3085236792, 36.8548135049), (20.1618225394, 27.6124433138), (20.1618225394, 17.8627432901), (31.941140432, 5.741956426), (23.5674446572, 8.5952473997), (0, 3.9316086214), align=None, mode=Mode.SUBTRACT)
    extrude(amount=F1_DEPTH)


solid = f1.part
